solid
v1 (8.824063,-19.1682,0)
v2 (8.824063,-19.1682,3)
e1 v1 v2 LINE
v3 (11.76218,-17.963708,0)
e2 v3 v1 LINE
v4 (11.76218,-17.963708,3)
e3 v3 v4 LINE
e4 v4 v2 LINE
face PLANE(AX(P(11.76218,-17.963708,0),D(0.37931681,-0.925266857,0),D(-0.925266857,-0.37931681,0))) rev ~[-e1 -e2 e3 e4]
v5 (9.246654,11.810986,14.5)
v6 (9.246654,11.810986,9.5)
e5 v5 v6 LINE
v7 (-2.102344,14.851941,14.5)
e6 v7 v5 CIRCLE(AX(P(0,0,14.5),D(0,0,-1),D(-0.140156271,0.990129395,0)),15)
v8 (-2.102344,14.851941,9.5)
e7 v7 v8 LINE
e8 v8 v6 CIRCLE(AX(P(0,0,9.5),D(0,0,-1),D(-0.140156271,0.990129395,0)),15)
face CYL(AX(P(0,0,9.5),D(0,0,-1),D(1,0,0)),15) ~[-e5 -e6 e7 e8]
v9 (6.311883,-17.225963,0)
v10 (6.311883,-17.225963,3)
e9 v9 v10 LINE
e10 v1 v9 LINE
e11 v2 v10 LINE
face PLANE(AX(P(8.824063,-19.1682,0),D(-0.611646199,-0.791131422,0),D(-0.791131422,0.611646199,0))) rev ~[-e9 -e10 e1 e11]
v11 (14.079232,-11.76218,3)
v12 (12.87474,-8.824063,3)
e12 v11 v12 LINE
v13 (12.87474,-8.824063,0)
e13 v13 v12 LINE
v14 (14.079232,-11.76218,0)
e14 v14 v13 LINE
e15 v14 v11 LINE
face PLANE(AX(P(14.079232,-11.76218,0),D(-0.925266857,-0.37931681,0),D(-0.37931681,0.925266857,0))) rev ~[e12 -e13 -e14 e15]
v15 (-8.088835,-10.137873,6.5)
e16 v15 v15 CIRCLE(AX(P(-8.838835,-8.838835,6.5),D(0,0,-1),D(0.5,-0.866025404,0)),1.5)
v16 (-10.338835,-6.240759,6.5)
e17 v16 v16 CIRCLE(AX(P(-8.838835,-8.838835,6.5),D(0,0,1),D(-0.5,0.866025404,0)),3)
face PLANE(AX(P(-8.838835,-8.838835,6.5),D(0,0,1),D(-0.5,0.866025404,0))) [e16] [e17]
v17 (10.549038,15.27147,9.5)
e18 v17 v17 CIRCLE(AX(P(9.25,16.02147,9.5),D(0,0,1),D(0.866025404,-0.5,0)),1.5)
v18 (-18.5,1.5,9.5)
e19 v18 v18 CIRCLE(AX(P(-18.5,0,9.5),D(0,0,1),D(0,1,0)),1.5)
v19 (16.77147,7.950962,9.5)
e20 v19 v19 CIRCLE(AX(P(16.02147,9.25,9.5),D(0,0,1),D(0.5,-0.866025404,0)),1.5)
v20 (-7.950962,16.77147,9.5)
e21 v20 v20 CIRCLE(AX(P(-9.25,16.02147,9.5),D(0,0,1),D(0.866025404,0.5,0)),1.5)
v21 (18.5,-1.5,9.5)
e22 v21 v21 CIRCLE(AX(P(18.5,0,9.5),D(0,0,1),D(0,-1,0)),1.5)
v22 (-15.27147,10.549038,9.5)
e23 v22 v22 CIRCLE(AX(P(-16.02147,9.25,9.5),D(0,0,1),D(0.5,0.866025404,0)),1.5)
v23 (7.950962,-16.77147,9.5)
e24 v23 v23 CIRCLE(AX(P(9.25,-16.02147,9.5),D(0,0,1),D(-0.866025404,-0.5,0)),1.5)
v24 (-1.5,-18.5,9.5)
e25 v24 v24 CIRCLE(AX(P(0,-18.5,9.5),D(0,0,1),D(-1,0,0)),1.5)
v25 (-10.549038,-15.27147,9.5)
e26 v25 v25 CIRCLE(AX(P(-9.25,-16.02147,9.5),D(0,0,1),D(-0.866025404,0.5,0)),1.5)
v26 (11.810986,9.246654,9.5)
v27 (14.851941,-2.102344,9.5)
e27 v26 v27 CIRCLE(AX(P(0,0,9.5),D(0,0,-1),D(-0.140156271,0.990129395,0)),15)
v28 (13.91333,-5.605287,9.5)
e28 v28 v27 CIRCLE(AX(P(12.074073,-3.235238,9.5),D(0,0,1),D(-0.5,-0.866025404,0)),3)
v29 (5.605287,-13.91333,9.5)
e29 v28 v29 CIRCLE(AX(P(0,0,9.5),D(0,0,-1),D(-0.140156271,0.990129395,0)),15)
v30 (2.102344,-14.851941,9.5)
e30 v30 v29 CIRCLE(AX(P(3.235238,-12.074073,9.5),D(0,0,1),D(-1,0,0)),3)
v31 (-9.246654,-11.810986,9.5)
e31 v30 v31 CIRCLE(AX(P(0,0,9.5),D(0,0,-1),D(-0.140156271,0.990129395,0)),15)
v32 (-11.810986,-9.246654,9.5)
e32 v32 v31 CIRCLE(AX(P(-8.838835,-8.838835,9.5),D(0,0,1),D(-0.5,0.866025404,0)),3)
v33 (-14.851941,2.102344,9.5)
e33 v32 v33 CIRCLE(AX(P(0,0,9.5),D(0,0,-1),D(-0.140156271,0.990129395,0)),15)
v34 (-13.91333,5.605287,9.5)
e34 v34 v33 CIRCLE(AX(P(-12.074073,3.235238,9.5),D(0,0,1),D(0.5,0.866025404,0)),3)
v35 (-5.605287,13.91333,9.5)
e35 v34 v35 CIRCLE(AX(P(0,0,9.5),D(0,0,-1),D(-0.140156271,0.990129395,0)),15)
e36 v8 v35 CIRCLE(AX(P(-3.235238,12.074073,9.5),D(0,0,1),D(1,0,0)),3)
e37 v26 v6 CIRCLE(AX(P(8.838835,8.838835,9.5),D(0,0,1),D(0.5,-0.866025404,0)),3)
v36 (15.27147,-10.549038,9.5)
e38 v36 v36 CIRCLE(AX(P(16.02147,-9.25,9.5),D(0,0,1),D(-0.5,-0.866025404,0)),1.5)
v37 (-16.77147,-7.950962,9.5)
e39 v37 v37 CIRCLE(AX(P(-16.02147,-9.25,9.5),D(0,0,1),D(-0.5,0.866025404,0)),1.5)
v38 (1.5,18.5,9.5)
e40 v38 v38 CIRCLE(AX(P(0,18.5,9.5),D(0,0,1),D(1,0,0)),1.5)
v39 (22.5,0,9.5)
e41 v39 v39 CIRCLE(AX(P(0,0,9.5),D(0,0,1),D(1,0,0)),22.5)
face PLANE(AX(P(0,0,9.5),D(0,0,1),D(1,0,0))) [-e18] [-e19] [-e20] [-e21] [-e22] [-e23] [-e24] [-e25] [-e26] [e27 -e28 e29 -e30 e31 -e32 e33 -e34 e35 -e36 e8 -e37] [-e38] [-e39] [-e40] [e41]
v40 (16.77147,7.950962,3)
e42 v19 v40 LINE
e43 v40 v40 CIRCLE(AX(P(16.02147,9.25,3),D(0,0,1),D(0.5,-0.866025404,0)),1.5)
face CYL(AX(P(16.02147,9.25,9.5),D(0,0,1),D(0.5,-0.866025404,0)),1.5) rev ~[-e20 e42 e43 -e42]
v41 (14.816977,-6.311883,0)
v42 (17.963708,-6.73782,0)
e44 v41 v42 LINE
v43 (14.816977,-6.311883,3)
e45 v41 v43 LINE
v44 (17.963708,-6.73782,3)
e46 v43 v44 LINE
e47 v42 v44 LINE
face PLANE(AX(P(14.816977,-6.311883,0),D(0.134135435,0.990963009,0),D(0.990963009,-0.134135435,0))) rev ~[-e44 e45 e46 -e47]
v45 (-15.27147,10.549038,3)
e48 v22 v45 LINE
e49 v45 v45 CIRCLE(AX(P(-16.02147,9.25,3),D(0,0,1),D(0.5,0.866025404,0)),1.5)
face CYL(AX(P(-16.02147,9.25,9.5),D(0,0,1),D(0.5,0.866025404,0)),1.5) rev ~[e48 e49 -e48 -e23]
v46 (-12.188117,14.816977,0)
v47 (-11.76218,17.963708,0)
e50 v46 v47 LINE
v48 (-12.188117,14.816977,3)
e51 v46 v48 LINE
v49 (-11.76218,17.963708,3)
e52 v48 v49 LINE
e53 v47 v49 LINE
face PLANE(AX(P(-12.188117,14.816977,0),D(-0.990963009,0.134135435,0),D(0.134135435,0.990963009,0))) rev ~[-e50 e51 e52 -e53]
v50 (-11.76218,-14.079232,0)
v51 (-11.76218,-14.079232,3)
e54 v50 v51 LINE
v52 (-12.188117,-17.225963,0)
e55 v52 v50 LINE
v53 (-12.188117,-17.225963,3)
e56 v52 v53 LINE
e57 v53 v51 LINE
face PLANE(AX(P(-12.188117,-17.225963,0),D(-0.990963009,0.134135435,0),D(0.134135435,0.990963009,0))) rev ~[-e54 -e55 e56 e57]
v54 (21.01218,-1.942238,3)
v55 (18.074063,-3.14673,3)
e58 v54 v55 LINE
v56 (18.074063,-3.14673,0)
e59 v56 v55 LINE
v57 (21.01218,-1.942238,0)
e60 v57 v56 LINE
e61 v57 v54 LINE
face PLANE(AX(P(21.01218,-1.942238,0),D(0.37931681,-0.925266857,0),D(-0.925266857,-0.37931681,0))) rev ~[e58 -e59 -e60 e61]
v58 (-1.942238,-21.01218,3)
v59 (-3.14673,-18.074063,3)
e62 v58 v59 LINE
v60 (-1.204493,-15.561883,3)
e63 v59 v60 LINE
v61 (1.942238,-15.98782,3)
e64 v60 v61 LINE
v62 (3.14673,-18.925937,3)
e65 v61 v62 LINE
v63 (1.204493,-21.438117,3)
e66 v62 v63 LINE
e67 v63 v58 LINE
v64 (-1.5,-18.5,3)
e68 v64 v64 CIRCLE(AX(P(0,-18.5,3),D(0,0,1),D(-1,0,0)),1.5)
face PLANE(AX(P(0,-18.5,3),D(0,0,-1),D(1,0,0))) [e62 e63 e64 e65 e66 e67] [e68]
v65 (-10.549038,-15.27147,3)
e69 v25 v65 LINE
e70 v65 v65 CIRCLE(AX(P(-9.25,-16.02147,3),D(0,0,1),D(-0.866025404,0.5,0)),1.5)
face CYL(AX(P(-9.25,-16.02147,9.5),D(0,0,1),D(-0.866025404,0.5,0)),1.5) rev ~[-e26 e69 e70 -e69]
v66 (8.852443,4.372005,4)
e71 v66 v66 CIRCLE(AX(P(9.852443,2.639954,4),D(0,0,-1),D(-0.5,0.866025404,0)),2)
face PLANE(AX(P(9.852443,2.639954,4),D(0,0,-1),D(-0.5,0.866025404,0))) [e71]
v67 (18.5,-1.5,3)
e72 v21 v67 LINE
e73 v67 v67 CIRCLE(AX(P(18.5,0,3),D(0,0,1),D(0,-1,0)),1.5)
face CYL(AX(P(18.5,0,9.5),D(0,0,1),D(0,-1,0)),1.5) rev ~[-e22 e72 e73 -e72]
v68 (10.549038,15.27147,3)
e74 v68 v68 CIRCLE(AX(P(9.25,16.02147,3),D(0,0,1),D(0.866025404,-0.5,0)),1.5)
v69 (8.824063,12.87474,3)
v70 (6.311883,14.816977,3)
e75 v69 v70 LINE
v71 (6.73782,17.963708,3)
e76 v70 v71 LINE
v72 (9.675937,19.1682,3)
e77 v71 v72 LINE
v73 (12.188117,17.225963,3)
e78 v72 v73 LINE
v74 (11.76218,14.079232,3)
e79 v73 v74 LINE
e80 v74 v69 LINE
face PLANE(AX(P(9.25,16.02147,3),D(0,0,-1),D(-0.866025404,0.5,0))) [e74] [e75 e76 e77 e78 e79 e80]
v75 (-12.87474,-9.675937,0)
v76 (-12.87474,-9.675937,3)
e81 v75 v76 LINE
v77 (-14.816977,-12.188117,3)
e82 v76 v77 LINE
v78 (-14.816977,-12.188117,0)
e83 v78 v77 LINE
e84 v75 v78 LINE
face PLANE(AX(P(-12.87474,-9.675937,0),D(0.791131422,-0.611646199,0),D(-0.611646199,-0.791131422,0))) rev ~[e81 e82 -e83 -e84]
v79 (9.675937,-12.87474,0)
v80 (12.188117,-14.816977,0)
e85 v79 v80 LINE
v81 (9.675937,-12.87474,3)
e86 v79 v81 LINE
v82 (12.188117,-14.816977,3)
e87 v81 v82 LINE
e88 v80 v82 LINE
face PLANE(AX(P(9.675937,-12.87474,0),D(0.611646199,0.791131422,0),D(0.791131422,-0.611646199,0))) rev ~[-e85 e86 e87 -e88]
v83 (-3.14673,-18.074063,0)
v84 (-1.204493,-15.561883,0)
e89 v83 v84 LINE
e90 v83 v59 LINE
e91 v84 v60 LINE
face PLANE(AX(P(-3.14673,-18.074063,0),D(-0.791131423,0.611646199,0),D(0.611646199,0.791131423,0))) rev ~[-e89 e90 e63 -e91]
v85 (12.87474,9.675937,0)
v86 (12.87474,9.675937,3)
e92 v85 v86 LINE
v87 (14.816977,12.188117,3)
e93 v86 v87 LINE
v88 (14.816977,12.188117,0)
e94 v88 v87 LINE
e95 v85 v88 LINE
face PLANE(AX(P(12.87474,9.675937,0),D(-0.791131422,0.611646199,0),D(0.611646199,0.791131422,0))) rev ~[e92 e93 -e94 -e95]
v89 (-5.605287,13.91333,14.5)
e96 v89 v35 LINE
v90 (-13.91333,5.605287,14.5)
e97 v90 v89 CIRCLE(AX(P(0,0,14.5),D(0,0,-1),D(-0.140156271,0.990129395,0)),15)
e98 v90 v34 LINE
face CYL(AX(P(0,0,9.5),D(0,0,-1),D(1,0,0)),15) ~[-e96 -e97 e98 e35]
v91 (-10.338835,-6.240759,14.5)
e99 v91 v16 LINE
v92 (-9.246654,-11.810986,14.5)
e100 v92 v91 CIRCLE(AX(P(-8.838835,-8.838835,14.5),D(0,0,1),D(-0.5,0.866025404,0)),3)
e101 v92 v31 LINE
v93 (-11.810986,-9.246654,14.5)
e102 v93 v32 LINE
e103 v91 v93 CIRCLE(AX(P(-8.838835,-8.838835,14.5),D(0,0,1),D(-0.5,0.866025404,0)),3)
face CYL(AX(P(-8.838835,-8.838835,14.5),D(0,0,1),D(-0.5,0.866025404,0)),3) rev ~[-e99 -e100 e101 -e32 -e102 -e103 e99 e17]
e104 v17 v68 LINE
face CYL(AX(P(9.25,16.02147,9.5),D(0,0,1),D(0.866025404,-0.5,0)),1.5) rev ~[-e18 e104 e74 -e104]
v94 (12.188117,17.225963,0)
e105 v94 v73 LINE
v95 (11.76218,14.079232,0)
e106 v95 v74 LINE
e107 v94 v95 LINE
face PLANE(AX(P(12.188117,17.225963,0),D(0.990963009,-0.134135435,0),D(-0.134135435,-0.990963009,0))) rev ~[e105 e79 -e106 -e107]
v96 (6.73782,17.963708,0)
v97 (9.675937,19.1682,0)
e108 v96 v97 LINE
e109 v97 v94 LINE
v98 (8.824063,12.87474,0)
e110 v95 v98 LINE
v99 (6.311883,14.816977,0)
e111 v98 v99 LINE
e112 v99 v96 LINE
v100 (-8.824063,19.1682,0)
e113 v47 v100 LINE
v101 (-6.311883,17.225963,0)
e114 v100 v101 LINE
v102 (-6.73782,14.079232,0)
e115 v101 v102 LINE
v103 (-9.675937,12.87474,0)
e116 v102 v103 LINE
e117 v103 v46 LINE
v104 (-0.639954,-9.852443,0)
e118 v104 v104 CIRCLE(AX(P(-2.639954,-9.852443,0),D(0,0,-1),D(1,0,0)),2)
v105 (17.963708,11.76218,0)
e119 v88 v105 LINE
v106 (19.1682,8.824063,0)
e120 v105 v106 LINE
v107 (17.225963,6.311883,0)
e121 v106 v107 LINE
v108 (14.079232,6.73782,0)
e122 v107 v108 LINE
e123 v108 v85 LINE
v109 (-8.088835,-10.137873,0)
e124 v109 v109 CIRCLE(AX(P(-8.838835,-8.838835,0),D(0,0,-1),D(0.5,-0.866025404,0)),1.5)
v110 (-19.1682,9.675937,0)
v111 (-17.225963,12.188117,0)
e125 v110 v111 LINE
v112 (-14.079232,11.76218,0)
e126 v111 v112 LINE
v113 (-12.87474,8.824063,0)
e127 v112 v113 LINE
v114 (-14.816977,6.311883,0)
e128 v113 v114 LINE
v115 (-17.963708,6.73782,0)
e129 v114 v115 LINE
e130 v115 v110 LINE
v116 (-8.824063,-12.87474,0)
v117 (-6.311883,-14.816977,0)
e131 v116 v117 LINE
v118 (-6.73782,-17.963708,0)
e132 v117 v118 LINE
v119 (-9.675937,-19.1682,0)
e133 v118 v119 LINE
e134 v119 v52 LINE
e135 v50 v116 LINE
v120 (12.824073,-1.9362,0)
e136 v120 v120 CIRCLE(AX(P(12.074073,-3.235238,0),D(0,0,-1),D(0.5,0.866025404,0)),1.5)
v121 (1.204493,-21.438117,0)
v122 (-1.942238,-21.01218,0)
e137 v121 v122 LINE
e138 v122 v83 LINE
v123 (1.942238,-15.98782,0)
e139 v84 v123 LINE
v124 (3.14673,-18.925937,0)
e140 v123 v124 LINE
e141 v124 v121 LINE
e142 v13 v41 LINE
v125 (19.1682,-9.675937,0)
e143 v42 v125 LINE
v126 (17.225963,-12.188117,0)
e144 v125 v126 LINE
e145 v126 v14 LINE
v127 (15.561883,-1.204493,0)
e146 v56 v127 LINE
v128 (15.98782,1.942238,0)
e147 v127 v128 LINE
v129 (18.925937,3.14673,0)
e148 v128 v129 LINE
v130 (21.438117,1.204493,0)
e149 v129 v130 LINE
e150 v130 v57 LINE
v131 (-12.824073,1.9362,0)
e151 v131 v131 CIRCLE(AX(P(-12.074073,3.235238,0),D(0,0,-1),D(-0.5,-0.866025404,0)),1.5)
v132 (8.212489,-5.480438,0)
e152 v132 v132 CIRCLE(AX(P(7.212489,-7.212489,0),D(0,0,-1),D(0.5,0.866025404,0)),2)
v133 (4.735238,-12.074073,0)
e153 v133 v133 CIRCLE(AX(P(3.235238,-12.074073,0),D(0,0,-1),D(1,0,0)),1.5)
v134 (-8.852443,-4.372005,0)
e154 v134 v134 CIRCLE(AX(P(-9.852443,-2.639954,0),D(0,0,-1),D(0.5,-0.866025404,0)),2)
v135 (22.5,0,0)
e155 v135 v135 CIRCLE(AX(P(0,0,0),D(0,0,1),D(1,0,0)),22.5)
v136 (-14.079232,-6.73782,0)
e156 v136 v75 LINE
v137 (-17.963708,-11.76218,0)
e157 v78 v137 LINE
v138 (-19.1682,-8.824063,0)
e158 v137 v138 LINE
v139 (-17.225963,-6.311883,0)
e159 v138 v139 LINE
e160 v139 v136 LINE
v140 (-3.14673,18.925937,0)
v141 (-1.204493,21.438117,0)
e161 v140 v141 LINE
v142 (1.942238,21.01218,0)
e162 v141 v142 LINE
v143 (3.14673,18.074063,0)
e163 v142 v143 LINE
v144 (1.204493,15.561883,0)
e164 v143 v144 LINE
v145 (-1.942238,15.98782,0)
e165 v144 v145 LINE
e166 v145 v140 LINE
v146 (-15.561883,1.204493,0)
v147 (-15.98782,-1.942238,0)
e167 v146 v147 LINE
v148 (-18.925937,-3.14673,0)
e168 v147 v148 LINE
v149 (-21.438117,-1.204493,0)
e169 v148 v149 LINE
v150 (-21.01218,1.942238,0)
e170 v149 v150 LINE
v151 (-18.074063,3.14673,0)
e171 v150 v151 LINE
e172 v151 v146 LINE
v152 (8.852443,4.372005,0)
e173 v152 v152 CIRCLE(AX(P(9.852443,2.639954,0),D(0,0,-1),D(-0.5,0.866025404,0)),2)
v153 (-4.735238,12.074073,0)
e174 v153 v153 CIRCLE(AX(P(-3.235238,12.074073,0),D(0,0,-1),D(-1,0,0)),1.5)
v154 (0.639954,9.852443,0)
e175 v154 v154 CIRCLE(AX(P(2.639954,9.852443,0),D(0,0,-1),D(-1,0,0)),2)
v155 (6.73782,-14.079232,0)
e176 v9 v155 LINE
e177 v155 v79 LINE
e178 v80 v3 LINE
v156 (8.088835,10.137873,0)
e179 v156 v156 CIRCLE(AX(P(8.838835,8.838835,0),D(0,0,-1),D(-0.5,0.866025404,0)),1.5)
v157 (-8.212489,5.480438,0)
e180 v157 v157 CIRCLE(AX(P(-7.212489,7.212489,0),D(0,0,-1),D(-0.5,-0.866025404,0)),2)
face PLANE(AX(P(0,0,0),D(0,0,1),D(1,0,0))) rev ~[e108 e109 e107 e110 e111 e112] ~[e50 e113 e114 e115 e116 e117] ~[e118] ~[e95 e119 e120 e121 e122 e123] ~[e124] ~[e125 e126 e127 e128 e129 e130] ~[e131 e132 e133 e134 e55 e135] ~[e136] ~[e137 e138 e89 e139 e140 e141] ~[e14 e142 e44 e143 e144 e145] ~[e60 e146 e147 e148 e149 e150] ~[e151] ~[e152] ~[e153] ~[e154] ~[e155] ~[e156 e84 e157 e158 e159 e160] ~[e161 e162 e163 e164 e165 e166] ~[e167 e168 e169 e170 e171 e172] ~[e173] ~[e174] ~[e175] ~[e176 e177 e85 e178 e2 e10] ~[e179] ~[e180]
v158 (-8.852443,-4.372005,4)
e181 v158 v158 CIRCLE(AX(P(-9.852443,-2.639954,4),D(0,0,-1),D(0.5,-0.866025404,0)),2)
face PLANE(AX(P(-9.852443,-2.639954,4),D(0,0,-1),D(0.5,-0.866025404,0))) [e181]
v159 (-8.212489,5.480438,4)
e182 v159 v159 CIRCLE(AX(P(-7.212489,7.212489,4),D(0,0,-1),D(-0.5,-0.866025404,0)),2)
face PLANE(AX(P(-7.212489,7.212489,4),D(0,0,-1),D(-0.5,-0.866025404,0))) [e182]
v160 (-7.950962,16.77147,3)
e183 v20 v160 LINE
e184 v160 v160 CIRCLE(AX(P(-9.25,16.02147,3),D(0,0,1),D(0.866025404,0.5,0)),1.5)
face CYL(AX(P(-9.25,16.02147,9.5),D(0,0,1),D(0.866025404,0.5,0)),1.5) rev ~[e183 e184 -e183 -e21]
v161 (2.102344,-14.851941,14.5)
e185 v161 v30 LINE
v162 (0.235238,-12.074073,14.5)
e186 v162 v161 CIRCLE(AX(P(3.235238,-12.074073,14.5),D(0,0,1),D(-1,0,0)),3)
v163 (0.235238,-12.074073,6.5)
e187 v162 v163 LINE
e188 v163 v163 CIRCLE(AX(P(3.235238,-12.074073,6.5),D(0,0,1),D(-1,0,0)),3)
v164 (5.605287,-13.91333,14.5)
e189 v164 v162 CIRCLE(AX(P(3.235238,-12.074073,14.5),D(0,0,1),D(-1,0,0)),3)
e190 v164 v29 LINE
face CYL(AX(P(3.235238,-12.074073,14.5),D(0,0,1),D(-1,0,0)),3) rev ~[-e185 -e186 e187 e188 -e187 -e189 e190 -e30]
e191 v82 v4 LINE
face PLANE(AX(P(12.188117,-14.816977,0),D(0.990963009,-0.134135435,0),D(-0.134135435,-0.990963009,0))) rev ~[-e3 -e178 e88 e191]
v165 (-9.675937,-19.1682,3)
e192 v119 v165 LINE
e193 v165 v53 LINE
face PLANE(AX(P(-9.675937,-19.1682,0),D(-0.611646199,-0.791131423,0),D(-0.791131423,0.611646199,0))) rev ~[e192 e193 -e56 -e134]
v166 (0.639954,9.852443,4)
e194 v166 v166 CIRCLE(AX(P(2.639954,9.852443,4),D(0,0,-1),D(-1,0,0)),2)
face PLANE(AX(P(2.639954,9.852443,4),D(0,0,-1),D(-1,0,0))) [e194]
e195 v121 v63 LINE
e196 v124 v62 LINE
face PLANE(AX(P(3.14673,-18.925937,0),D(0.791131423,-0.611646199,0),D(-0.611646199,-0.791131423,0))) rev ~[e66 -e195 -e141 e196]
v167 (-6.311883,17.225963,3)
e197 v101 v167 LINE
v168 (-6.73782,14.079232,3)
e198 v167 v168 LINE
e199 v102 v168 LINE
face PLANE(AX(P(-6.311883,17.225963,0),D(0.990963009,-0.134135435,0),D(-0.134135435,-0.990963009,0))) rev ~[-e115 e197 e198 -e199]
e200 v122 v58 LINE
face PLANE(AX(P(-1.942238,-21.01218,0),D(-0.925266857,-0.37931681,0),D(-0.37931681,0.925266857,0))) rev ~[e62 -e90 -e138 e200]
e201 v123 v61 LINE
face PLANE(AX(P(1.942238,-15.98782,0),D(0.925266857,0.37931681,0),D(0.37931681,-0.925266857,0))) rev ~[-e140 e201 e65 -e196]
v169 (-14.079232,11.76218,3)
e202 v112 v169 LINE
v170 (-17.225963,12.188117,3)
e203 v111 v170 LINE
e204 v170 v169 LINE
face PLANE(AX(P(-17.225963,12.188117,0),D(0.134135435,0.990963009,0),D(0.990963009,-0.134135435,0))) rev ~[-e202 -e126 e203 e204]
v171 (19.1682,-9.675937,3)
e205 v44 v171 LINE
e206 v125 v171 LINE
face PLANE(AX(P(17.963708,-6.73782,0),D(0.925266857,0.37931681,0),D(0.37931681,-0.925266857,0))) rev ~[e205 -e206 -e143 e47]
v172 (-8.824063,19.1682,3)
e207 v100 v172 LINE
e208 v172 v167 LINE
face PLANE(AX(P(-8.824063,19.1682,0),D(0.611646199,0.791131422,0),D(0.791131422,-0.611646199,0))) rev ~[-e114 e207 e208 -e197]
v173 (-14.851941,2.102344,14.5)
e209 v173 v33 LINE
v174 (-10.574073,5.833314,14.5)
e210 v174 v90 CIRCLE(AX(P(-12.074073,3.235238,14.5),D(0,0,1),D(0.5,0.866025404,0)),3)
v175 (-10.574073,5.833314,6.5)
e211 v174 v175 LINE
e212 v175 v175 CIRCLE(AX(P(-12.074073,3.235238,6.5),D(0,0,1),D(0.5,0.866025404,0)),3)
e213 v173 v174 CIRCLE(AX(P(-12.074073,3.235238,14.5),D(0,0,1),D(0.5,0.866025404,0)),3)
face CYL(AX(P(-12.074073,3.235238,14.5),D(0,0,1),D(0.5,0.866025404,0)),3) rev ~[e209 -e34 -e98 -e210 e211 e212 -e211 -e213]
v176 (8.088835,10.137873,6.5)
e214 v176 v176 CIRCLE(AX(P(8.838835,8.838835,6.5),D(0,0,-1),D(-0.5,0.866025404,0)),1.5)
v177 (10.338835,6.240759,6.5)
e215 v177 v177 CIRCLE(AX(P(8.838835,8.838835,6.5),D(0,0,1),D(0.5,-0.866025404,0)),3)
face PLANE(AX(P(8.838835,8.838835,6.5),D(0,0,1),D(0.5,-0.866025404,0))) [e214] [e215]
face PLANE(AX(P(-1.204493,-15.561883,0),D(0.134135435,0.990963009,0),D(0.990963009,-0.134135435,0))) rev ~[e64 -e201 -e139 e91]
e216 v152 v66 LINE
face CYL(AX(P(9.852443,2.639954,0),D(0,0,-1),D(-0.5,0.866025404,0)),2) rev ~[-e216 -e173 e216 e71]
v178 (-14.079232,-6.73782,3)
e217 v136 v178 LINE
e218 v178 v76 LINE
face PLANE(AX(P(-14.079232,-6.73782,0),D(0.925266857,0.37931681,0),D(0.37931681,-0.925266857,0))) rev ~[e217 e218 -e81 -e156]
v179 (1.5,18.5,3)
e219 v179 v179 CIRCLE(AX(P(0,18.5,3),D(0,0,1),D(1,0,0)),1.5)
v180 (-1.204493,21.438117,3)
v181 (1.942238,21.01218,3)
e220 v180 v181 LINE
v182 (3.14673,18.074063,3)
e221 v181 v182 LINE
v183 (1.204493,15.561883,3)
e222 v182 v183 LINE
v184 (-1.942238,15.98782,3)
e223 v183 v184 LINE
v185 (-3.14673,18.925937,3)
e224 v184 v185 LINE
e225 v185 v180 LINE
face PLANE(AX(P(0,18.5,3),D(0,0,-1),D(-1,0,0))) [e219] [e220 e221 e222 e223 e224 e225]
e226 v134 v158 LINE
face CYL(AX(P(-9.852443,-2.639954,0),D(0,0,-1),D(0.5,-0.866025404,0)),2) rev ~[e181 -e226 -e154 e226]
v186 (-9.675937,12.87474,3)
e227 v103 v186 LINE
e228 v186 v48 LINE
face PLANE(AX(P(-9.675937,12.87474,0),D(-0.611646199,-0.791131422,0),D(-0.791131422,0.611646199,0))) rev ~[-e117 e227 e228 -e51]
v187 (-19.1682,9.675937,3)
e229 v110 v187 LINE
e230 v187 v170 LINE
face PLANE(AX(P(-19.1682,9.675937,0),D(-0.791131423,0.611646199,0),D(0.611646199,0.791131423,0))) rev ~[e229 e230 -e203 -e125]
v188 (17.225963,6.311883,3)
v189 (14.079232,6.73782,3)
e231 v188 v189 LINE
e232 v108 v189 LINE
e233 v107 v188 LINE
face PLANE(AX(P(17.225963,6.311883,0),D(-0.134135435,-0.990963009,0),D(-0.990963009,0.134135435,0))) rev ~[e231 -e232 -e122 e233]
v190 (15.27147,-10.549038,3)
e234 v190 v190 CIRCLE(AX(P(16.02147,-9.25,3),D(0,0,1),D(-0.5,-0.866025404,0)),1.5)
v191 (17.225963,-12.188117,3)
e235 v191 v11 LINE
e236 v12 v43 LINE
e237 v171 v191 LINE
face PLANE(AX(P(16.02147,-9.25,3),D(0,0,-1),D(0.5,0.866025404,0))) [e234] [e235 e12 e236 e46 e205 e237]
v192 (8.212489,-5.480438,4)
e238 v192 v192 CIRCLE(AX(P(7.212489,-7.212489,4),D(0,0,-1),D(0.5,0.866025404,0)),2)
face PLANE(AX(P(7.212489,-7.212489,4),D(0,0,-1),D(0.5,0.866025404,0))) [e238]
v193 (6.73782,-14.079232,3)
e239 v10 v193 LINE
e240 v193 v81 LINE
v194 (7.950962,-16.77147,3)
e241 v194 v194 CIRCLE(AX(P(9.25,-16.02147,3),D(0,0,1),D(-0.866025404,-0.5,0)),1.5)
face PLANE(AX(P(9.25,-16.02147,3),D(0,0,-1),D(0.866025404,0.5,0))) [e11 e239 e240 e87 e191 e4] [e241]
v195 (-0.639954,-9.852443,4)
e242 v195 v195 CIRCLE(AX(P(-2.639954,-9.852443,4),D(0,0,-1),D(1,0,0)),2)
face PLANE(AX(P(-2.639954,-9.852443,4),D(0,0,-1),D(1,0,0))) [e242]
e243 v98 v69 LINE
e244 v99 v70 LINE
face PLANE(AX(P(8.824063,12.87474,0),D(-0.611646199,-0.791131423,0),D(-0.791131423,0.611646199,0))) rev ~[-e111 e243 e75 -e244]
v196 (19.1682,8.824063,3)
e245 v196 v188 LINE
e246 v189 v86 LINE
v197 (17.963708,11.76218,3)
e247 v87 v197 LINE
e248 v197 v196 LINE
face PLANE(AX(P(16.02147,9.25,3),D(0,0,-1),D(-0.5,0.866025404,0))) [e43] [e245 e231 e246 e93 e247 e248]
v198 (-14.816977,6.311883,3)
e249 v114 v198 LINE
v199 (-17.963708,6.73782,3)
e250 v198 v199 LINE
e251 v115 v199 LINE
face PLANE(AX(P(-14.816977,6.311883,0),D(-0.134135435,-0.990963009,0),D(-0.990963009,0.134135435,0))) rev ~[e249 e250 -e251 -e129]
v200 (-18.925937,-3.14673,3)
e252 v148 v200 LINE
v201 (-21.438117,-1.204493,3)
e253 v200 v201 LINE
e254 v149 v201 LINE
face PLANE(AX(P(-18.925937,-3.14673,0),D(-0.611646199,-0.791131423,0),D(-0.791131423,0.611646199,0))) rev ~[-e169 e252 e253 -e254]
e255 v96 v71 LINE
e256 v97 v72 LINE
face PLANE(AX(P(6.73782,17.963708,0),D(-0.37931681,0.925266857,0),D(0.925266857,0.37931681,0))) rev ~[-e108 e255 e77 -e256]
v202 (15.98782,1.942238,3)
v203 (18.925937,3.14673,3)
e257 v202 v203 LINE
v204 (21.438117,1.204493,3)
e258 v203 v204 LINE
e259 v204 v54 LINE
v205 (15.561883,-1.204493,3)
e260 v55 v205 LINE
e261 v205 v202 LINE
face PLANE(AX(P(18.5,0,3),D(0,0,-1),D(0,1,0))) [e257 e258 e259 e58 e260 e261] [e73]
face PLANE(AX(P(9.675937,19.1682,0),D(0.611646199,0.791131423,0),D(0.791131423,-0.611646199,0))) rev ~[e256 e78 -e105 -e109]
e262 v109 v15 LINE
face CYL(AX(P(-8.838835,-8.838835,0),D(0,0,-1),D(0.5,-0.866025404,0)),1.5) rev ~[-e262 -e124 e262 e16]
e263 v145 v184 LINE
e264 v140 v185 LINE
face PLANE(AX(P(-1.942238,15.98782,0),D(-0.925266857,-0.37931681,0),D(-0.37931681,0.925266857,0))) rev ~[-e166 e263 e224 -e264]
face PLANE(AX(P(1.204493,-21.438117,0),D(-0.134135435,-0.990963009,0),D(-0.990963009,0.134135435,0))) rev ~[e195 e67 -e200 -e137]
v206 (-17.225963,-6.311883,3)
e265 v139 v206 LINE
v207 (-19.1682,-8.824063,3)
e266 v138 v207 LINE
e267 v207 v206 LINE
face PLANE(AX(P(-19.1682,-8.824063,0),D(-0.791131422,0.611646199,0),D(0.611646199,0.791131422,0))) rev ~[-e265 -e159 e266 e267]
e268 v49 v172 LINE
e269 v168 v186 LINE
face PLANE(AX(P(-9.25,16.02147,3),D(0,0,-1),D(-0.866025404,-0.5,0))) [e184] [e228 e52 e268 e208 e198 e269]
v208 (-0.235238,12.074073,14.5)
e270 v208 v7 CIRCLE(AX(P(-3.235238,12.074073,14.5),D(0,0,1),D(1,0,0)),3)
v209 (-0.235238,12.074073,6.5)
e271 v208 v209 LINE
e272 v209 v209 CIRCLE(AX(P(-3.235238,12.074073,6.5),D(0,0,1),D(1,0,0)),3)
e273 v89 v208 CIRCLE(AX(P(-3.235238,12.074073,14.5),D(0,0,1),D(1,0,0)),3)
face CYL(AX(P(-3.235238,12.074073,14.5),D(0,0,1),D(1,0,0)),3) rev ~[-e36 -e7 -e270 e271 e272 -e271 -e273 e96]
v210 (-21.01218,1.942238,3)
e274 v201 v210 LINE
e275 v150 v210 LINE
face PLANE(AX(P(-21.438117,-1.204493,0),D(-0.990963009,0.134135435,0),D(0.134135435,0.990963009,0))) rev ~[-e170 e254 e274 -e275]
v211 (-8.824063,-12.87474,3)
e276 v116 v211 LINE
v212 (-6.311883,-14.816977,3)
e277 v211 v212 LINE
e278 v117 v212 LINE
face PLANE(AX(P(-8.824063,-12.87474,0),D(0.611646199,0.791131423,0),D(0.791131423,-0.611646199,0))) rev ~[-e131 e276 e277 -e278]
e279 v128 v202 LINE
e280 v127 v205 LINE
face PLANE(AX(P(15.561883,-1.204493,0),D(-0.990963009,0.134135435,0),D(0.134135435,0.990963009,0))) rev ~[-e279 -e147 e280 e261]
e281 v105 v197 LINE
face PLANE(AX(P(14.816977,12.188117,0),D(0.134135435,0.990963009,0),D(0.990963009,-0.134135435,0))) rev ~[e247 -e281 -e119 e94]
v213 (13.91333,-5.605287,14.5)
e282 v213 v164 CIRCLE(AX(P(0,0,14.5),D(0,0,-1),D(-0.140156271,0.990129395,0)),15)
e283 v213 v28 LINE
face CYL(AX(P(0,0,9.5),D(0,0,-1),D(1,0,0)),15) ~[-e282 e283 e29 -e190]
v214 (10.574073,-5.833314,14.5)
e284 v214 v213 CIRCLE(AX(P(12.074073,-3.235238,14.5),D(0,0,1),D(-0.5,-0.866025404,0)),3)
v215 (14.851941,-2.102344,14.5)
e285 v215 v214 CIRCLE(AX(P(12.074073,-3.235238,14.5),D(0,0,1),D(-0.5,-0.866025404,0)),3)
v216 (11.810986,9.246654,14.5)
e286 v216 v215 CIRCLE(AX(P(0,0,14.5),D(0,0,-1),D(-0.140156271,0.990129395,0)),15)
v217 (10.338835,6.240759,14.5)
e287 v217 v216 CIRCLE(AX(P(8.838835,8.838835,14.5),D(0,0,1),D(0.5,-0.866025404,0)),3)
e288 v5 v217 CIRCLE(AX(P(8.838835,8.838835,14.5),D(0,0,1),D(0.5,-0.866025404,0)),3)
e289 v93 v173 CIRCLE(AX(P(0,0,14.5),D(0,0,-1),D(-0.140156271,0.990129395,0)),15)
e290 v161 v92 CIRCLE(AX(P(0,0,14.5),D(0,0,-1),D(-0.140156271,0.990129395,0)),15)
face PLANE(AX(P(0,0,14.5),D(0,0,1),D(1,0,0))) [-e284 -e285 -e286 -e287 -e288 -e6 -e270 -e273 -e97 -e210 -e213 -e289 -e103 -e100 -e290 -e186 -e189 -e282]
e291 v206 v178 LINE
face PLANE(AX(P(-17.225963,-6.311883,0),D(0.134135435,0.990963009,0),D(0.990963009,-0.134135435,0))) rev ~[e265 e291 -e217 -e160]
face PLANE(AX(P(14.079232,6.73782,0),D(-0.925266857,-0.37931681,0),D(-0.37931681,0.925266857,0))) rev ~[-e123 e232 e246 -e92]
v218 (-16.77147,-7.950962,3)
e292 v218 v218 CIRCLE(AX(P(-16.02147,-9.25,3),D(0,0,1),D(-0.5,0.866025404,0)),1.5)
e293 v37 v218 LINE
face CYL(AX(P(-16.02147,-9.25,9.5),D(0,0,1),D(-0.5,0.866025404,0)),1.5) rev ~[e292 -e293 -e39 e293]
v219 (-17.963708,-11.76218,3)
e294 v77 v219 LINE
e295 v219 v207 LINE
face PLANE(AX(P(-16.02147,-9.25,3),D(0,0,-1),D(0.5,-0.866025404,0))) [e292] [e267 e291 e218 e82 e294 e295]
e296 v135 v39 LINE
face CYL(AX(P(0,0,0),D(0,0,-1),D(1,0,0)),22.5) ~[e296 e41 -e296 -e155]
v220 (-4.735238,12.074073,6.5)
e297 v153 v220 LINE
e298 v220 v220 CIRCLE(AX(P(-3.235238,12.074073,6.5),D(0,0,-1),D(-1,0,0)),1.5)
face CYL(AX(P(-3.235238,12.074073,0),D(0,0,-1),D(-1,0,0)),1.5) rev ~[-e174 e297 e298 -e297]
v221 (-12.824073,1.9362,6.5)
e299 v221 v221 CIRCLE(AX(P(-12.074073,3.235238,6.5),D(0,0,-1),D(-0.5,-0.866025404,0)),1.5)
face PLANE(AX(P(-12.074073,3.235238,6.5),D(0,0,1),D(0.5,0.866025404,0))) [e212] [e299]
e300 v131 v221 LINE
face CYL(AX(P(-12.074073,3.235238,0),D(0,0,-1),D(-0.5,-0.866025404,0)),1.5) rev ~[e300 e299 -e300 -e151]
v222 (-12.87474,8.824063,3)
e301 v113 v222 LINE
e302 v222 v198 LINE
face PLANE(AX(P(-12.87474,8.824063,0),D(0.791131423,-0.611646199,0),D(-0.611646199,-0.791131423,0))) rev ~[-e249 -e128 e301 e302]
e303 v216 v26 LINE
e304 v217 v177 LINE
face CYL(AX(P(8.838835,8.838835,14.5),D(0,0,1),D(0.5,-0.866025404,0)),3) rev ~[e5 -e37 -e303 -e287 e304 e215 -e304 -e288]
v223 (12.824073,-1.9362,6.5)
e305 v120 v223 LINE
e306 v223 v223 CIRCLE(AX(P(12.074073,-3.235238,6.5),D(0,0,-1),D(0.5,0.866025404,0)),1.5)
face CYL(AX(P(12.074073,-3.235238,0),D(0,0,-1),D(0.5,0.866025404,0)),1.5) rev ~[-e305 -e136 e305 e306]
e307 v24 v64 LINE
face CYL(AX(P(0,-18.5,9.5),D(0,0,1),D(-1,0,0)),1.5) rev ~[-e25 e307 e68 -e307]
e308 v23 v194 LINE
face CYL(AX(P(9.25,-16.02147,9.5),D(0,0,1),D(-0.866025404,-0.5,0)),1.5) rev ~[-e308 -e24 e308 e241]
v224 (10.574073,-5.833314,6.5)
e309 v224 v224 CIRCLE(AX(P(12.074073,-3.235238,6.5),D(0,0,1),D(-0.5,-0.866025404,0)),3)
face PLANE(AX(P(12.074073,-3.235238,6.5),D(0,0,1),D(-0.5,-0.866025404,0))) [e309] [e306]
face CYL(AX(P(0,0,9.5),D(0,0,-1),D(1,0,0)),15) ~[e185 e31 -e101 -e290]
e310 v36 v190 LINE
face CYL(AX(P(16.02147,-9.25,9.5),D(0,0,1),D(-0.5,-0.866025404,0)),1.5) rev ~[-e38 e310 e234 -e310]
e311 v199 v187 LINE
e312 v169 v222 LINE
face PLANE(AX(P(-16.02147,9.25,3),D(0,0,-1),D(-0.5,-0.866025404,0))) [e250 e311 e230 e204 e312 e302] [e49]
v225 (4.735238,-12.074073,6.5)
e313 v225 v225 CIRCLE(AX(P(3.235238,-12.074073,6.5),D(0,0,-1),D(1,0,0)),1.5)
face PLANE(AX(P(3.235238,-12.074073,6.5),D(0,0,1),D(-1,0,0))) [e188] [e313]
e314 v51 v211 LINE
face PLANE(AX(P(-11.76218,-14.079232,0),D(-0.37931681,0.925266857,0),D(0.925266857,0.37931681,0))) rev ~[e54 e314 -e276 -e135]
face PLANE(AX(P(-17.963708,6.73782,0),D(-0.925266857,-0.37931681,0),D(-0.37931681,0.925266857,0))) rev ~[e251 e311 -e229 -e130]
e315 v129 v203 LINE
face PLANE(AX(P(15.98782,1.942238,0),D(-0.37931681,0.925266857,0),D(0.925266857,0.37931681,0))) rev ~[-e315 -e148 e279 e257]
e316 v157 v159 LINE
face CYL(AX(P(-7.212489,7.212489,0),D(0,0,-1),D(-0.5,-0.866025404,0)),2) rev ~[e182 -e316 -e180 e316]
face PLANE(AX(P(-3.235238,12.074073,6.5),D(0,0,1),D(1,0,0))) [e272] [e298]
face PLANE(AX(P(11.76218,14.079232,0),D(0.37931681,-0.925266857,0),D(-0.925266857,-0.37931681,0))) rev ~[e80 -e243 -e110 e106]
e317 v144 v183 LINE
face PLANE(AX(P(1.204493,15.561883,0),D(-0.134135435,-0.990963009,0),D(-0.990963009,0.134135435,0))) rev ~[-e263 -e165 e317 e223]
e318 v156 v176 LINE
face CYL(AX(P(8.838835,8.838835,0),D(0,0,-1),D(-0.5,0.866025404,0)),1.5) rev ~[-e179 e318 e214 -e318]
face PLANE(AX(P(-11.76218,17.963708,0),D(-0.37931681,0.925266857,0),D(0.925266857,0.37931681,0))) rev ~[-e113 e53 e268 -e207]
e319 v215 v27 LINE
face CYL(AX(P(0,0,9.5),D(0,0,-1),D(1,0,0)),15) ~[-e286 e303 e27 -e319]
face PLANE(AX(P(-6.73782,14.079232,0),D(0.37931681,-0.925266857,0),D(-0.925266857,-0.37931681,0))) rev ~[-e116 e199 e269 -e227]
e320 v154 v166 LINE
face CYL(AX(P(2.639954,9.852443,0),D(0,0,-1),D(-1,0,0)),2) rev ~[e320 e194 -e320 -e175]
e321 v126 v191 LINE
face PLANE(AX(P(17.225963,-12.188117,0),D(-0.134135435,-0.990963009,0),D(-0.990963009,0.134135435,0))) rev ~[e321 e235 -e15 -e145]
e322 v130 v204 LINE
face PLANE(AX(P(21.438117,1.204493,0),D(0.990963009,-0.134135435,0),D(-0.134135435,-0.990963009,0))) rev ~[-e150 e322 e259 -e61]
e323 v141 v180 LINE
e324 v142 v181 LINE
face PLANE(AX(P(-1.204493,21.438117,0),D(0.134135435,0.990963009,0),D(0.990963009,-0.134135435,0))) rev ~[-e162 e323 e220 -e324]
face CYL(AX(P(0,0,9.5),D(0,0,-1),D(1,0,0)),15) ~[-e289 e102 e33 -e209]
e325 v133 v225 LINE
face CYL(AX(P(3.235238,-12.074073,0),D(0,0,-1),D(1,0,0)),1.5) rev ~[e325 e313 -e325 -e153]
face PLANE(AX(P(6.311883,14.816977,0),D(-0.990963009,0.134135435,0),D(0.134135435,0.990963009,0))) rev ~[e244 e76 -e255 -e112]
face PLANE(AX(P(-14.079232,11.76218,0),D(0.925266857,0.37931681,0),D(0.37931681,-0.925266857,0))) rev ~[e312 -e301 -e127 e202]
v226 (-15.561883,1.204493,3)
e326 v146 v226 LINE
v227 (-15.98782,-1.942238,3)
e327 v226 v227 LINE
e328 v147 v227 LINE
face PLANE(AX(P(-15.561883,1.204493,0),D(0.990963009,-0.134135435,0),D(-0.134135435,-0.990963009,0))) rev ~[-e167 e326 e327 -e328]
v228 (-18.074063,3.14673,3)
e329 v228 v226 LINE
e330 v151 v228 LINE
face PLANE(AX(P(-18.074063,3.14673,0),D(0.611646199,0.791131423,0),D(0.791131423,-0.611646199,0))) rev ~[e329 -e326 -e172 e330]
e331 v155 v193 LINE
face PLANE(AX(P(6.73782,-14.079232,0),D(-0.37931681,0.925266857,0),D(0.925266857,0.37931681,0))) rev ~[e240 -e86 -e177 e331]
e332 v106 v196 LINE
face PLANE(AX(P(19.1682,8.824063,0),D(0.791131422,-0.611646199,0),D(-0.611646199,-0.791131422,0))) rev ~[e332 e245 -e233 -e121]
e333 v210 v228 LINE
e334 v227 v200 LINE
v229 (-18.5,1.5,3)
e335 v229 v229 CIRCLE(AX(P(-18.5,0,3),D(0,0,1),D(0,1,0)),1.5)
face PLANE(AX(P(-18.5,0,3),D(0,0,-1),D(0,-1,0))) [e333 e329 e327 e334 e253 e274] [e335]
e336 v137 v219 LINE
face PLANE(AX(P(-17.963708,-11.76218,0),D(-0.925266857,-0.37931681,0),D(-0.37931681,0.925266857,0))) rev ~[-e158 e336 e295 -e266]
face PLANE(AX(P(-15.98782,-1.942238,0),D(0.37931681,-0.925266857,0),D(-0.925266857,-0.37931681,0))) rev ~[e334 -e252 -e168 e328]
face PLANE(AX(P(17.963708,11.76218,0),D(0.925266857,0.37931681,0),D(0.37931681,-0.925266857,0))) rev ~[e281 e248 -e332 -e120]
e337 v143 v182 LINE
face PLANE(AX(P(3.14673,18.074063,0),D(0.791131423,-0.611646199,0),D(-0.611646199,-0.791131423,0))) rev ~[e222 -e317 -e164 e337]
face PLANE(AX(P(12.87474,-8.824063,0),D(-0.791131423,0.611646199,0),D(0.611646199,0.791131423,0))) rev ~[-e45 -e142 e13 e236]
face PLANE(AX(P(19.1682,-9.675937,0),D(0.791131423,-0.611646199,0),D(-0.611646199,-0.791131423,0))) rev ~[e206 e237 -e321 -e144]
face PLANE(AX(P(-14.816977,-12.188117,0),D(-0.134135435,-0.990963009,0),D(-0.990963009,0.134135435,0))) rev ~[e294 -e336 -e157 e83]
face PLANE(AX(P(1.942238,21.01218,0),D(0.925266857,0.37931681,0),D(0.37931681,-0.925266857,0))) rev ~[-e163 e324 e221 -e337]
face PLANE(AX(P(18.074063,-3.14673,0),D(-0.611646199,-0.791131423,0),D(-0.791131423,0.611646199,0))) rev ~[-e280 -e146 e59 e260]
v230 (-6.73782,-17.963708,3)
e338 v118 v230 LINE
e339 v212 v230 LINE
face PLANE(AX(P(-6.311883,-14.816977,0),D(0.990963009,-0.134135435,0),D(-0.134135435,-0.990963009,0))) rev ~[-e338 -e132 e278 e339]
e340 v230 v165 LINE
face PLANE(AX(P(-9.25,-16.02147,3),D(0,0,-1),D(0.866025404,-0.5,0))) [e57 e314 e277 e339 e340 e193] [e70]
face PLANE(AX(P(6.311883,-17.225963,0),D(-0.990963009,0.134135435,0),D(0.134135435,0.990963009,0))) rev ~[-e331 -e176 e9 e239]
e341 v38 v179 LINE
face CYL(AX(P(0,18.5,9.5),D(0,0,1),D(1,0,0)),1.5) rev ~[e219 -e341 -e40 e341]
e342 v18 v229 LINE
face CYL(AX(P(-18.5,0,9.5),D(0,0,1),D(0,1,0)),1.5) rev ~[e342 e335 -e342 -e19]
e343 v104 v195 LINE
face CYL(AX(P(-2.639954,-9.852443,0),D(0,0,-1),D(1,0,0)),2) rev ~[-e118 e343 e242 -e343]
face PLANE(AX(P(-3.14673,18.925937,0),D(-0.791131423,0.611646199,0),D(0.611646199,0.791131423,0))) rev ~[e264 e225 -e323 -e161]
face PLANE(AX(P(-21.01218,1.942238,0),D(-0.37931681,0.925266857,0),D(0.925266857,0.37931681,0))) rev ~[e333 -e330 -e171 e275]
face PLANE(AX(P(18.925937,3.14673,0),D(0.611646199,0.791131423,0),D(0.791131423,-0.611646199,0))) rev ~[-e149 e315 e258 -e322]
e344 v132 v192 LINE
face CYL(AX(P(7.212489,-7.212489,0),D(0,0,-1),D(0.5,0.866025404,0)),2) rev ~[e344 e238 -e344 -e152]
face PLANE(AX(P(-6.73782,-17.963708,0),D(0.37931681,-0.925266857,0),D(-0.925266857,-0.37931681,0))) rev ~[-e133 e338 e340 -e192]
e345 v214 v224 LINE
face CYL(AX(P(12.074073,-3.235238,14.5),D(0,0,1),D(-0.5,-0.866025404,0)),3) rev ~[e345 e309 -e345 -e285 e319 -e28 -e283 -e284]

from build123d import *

# Parameters (mm, degrees)
SKETCH_1_R               = 22.5
EXTRUDE_1_DEPTH          = 9.5
SKETCH_2_R               = 15
EXTRUDE_2_DEPTH          = 5
SKETCH_3_R               = 1.5
CUT_EXTRUDE_1_DEPTH      = 5
SKETCH_5_R               = 1.5
CUT_EXTRUDE_2_DEPTH      = 34.207679835
CUT_EXTRUDE_6_DEPTH      = 3
PATTERN_CIRCULAR_1_COUNT = 12
SKETCH_6_R               = 1.5
CUT_EXTRUDE_3_DEPTH      = 35.96784237
SKETCH_7_R               = 3
CUT_EXTRUDE_4_DEPTH      = 8
PATTERN_CIRCULAR_2_COUNT = 6
SKETCH_8_R               = 2
CUT_EXTRUDE_5_DEPTH      = 4
PATTERN_CIRCULAR_3_COUNT = 6


with BuildPart() as part:
    # 草图1 → 凸台-拉伸1 (new body)
    with BuildSketch(Plane.XY):
        Circle(SKETCH_1_R)
    extrude(amount=EXTRUDE_1_DEPTH)

    # 草图2 → 凸台-拉伸2 (add)
    with BuildSketch(Plane.XY.offset(9.5)):
        Circle(SKETCH_2_R)
    extrude(amount=EXTRUDE_2_DEPTH)

    # 草图3 → 切除-拉伸1 (cut)
    with BuildSketch(Plane.XY.offset(9.5)):
        with Locations((0, 18.5)):
            Circle(SKETCH_3_R)
    cut_extrude_1 = extrude(amount=-CUT_EXTRUDE_1_DEPTH, mode=Mode.SUBTRACT)

    # 草图5 → 切除-拉伸2 (cut, through all)
    with BuildSketch(Plane.XY.offset(9.5)):
        with Locations((0, 18.5)):
            Circle(SKETCH_5_R)
    cut_extrude_2 = extrude(amount=-CUT_EXTRUDE_2_DEPTH, mode=Mode.SUBTRACT)

    # 草图9 → 切除-拉伸6 (cut)
    with BuildSketch(Plane(origin=(0, 0, 0), x_dir=(-1, 0, 0), z_dir=(0, 0, -1))):
        Polygon((1.204492644, 21.438116881), (-1.942237536, 21.012179669), (-3.14673018, 18.074062788), (-1.204492644, 15.561883119), (1.942237536, 15.987820331), (3.14673018, 18.925937212), align=None)
    cut_extrude_6 = extrude(amount=-CUT_EXTRUDE_6_DEPTH, mode=Mode.SUBTRACT)

    # 阵列(圆周)1: 切除-拉伸1, 切除-拉伸2, 切除-拉伸6 ×12 about axis
    pattern_circular_1_axis = Axis((0, 0, 0), (0, 0, 1))
    add([cut_extrude_1.rotate(pattern_circular_1_axis, i * 360 / PATTERN_CIRCULAR_1_COUNT) for i in range(1, PATTERN_CIRCULAR_1_COUNT)], mode=Mode.SUBTRACT)
    add([cut_extrude_2.rotate(pattern_circular_1_axis, i * 360 / PATTERN_CIRCULAR_1_COUNT) for i in range(1, PATTERN_CIRCULAR_1_COUNT)], mode=Mode.SUBTRACT)
    add([cut_extrude_6.rotate(pattern_circular_1_axis, i * 360 / PATTERN_CIRCULAR_1_COUNT) for i in range(1, PATTERN_CIRCULAR_1_COUNT)], mode=Mode.SUBTRACT)

    # 草图6 → 切除-拉伸3 (cut, through all)
    with BuildSketch(Plane(origin=(0, 0, 0), x_dir=(-1, 0, 0), z_dir=(0, 0, -1))):
        with Locations((3.235238064, 12.074072829)):
            Circle(SKETCH_6_R)
    cut_extrude_3 = extrude(amount=-CUT_EXTRUDE_3_DEPTH, mode=Mode.SUBTRACT)

    # 草图7 → 切除-拉伸4 (cut)
    with BuildSketch(Plane.XY.offset(14.5)):
        with Locations((-3.235238064, 12.074072829)):
            Circle(SKETCH_7_R)
    cut_extrude_4 = extrude(amount=-CUT_EXTRUDE_4_DEPTH, mode=Mode.SUBTRACT)

    # 阵列(圆周)2: 切除-拉伸3, 切除-拉伸4 ×6 about axis
    pattern_circular_2_axis = Axis((0, 0, 0), (0, 0, 1))
    add([cut_extrude_3.rotate(pattern_circular_2_axis, i * 360 / PATTERN_CIRCULAR_2_COUNT) for i in range(1, PATTERN_CIRCULAR_2_COUNT)], mode=Mode.SUBTRACT)
    add([cut_extrude_4.rotate(pattern_circular_2_axis, i * 360 / PATTERN_CIRCULAR_2_COUNT) for i in range(1, PATTERN_CIRCULAR_2_COUNT)], mode=Mode.SUBTRACT)

    # 草图8 → 切除-拉伸5 (cut)
    with BuildSketch(Plane(origin=(0, 0, 0), x_dir=(-1, 0, 0), z_dir=(0, 0, -1))):
        with Locations((-2.63995426, 9.852443428)):
            Circle(SKETCH_8_R)
    cut_extrude_5 = extrude(amount=-CUT_EXTRUDE_5_DEPTH, mode=Mode.SUBTRACT)

    # 阵列(圆周)3: 切除-拉伸5 ×6 about axis
    pattern_circular_3_axis = Axis((0, 0, 0), (0, 0, 1))
    for i in range(1, PATTERN_CIRCULAR_3_COUNT):
        add(cut_extrude_5.rotate(pattern_circular_3_axis, i * 360 / PATTERN_CIRCULAR_3_COUNT), mode=Mode.SUBTRACT)


solid = part.part
